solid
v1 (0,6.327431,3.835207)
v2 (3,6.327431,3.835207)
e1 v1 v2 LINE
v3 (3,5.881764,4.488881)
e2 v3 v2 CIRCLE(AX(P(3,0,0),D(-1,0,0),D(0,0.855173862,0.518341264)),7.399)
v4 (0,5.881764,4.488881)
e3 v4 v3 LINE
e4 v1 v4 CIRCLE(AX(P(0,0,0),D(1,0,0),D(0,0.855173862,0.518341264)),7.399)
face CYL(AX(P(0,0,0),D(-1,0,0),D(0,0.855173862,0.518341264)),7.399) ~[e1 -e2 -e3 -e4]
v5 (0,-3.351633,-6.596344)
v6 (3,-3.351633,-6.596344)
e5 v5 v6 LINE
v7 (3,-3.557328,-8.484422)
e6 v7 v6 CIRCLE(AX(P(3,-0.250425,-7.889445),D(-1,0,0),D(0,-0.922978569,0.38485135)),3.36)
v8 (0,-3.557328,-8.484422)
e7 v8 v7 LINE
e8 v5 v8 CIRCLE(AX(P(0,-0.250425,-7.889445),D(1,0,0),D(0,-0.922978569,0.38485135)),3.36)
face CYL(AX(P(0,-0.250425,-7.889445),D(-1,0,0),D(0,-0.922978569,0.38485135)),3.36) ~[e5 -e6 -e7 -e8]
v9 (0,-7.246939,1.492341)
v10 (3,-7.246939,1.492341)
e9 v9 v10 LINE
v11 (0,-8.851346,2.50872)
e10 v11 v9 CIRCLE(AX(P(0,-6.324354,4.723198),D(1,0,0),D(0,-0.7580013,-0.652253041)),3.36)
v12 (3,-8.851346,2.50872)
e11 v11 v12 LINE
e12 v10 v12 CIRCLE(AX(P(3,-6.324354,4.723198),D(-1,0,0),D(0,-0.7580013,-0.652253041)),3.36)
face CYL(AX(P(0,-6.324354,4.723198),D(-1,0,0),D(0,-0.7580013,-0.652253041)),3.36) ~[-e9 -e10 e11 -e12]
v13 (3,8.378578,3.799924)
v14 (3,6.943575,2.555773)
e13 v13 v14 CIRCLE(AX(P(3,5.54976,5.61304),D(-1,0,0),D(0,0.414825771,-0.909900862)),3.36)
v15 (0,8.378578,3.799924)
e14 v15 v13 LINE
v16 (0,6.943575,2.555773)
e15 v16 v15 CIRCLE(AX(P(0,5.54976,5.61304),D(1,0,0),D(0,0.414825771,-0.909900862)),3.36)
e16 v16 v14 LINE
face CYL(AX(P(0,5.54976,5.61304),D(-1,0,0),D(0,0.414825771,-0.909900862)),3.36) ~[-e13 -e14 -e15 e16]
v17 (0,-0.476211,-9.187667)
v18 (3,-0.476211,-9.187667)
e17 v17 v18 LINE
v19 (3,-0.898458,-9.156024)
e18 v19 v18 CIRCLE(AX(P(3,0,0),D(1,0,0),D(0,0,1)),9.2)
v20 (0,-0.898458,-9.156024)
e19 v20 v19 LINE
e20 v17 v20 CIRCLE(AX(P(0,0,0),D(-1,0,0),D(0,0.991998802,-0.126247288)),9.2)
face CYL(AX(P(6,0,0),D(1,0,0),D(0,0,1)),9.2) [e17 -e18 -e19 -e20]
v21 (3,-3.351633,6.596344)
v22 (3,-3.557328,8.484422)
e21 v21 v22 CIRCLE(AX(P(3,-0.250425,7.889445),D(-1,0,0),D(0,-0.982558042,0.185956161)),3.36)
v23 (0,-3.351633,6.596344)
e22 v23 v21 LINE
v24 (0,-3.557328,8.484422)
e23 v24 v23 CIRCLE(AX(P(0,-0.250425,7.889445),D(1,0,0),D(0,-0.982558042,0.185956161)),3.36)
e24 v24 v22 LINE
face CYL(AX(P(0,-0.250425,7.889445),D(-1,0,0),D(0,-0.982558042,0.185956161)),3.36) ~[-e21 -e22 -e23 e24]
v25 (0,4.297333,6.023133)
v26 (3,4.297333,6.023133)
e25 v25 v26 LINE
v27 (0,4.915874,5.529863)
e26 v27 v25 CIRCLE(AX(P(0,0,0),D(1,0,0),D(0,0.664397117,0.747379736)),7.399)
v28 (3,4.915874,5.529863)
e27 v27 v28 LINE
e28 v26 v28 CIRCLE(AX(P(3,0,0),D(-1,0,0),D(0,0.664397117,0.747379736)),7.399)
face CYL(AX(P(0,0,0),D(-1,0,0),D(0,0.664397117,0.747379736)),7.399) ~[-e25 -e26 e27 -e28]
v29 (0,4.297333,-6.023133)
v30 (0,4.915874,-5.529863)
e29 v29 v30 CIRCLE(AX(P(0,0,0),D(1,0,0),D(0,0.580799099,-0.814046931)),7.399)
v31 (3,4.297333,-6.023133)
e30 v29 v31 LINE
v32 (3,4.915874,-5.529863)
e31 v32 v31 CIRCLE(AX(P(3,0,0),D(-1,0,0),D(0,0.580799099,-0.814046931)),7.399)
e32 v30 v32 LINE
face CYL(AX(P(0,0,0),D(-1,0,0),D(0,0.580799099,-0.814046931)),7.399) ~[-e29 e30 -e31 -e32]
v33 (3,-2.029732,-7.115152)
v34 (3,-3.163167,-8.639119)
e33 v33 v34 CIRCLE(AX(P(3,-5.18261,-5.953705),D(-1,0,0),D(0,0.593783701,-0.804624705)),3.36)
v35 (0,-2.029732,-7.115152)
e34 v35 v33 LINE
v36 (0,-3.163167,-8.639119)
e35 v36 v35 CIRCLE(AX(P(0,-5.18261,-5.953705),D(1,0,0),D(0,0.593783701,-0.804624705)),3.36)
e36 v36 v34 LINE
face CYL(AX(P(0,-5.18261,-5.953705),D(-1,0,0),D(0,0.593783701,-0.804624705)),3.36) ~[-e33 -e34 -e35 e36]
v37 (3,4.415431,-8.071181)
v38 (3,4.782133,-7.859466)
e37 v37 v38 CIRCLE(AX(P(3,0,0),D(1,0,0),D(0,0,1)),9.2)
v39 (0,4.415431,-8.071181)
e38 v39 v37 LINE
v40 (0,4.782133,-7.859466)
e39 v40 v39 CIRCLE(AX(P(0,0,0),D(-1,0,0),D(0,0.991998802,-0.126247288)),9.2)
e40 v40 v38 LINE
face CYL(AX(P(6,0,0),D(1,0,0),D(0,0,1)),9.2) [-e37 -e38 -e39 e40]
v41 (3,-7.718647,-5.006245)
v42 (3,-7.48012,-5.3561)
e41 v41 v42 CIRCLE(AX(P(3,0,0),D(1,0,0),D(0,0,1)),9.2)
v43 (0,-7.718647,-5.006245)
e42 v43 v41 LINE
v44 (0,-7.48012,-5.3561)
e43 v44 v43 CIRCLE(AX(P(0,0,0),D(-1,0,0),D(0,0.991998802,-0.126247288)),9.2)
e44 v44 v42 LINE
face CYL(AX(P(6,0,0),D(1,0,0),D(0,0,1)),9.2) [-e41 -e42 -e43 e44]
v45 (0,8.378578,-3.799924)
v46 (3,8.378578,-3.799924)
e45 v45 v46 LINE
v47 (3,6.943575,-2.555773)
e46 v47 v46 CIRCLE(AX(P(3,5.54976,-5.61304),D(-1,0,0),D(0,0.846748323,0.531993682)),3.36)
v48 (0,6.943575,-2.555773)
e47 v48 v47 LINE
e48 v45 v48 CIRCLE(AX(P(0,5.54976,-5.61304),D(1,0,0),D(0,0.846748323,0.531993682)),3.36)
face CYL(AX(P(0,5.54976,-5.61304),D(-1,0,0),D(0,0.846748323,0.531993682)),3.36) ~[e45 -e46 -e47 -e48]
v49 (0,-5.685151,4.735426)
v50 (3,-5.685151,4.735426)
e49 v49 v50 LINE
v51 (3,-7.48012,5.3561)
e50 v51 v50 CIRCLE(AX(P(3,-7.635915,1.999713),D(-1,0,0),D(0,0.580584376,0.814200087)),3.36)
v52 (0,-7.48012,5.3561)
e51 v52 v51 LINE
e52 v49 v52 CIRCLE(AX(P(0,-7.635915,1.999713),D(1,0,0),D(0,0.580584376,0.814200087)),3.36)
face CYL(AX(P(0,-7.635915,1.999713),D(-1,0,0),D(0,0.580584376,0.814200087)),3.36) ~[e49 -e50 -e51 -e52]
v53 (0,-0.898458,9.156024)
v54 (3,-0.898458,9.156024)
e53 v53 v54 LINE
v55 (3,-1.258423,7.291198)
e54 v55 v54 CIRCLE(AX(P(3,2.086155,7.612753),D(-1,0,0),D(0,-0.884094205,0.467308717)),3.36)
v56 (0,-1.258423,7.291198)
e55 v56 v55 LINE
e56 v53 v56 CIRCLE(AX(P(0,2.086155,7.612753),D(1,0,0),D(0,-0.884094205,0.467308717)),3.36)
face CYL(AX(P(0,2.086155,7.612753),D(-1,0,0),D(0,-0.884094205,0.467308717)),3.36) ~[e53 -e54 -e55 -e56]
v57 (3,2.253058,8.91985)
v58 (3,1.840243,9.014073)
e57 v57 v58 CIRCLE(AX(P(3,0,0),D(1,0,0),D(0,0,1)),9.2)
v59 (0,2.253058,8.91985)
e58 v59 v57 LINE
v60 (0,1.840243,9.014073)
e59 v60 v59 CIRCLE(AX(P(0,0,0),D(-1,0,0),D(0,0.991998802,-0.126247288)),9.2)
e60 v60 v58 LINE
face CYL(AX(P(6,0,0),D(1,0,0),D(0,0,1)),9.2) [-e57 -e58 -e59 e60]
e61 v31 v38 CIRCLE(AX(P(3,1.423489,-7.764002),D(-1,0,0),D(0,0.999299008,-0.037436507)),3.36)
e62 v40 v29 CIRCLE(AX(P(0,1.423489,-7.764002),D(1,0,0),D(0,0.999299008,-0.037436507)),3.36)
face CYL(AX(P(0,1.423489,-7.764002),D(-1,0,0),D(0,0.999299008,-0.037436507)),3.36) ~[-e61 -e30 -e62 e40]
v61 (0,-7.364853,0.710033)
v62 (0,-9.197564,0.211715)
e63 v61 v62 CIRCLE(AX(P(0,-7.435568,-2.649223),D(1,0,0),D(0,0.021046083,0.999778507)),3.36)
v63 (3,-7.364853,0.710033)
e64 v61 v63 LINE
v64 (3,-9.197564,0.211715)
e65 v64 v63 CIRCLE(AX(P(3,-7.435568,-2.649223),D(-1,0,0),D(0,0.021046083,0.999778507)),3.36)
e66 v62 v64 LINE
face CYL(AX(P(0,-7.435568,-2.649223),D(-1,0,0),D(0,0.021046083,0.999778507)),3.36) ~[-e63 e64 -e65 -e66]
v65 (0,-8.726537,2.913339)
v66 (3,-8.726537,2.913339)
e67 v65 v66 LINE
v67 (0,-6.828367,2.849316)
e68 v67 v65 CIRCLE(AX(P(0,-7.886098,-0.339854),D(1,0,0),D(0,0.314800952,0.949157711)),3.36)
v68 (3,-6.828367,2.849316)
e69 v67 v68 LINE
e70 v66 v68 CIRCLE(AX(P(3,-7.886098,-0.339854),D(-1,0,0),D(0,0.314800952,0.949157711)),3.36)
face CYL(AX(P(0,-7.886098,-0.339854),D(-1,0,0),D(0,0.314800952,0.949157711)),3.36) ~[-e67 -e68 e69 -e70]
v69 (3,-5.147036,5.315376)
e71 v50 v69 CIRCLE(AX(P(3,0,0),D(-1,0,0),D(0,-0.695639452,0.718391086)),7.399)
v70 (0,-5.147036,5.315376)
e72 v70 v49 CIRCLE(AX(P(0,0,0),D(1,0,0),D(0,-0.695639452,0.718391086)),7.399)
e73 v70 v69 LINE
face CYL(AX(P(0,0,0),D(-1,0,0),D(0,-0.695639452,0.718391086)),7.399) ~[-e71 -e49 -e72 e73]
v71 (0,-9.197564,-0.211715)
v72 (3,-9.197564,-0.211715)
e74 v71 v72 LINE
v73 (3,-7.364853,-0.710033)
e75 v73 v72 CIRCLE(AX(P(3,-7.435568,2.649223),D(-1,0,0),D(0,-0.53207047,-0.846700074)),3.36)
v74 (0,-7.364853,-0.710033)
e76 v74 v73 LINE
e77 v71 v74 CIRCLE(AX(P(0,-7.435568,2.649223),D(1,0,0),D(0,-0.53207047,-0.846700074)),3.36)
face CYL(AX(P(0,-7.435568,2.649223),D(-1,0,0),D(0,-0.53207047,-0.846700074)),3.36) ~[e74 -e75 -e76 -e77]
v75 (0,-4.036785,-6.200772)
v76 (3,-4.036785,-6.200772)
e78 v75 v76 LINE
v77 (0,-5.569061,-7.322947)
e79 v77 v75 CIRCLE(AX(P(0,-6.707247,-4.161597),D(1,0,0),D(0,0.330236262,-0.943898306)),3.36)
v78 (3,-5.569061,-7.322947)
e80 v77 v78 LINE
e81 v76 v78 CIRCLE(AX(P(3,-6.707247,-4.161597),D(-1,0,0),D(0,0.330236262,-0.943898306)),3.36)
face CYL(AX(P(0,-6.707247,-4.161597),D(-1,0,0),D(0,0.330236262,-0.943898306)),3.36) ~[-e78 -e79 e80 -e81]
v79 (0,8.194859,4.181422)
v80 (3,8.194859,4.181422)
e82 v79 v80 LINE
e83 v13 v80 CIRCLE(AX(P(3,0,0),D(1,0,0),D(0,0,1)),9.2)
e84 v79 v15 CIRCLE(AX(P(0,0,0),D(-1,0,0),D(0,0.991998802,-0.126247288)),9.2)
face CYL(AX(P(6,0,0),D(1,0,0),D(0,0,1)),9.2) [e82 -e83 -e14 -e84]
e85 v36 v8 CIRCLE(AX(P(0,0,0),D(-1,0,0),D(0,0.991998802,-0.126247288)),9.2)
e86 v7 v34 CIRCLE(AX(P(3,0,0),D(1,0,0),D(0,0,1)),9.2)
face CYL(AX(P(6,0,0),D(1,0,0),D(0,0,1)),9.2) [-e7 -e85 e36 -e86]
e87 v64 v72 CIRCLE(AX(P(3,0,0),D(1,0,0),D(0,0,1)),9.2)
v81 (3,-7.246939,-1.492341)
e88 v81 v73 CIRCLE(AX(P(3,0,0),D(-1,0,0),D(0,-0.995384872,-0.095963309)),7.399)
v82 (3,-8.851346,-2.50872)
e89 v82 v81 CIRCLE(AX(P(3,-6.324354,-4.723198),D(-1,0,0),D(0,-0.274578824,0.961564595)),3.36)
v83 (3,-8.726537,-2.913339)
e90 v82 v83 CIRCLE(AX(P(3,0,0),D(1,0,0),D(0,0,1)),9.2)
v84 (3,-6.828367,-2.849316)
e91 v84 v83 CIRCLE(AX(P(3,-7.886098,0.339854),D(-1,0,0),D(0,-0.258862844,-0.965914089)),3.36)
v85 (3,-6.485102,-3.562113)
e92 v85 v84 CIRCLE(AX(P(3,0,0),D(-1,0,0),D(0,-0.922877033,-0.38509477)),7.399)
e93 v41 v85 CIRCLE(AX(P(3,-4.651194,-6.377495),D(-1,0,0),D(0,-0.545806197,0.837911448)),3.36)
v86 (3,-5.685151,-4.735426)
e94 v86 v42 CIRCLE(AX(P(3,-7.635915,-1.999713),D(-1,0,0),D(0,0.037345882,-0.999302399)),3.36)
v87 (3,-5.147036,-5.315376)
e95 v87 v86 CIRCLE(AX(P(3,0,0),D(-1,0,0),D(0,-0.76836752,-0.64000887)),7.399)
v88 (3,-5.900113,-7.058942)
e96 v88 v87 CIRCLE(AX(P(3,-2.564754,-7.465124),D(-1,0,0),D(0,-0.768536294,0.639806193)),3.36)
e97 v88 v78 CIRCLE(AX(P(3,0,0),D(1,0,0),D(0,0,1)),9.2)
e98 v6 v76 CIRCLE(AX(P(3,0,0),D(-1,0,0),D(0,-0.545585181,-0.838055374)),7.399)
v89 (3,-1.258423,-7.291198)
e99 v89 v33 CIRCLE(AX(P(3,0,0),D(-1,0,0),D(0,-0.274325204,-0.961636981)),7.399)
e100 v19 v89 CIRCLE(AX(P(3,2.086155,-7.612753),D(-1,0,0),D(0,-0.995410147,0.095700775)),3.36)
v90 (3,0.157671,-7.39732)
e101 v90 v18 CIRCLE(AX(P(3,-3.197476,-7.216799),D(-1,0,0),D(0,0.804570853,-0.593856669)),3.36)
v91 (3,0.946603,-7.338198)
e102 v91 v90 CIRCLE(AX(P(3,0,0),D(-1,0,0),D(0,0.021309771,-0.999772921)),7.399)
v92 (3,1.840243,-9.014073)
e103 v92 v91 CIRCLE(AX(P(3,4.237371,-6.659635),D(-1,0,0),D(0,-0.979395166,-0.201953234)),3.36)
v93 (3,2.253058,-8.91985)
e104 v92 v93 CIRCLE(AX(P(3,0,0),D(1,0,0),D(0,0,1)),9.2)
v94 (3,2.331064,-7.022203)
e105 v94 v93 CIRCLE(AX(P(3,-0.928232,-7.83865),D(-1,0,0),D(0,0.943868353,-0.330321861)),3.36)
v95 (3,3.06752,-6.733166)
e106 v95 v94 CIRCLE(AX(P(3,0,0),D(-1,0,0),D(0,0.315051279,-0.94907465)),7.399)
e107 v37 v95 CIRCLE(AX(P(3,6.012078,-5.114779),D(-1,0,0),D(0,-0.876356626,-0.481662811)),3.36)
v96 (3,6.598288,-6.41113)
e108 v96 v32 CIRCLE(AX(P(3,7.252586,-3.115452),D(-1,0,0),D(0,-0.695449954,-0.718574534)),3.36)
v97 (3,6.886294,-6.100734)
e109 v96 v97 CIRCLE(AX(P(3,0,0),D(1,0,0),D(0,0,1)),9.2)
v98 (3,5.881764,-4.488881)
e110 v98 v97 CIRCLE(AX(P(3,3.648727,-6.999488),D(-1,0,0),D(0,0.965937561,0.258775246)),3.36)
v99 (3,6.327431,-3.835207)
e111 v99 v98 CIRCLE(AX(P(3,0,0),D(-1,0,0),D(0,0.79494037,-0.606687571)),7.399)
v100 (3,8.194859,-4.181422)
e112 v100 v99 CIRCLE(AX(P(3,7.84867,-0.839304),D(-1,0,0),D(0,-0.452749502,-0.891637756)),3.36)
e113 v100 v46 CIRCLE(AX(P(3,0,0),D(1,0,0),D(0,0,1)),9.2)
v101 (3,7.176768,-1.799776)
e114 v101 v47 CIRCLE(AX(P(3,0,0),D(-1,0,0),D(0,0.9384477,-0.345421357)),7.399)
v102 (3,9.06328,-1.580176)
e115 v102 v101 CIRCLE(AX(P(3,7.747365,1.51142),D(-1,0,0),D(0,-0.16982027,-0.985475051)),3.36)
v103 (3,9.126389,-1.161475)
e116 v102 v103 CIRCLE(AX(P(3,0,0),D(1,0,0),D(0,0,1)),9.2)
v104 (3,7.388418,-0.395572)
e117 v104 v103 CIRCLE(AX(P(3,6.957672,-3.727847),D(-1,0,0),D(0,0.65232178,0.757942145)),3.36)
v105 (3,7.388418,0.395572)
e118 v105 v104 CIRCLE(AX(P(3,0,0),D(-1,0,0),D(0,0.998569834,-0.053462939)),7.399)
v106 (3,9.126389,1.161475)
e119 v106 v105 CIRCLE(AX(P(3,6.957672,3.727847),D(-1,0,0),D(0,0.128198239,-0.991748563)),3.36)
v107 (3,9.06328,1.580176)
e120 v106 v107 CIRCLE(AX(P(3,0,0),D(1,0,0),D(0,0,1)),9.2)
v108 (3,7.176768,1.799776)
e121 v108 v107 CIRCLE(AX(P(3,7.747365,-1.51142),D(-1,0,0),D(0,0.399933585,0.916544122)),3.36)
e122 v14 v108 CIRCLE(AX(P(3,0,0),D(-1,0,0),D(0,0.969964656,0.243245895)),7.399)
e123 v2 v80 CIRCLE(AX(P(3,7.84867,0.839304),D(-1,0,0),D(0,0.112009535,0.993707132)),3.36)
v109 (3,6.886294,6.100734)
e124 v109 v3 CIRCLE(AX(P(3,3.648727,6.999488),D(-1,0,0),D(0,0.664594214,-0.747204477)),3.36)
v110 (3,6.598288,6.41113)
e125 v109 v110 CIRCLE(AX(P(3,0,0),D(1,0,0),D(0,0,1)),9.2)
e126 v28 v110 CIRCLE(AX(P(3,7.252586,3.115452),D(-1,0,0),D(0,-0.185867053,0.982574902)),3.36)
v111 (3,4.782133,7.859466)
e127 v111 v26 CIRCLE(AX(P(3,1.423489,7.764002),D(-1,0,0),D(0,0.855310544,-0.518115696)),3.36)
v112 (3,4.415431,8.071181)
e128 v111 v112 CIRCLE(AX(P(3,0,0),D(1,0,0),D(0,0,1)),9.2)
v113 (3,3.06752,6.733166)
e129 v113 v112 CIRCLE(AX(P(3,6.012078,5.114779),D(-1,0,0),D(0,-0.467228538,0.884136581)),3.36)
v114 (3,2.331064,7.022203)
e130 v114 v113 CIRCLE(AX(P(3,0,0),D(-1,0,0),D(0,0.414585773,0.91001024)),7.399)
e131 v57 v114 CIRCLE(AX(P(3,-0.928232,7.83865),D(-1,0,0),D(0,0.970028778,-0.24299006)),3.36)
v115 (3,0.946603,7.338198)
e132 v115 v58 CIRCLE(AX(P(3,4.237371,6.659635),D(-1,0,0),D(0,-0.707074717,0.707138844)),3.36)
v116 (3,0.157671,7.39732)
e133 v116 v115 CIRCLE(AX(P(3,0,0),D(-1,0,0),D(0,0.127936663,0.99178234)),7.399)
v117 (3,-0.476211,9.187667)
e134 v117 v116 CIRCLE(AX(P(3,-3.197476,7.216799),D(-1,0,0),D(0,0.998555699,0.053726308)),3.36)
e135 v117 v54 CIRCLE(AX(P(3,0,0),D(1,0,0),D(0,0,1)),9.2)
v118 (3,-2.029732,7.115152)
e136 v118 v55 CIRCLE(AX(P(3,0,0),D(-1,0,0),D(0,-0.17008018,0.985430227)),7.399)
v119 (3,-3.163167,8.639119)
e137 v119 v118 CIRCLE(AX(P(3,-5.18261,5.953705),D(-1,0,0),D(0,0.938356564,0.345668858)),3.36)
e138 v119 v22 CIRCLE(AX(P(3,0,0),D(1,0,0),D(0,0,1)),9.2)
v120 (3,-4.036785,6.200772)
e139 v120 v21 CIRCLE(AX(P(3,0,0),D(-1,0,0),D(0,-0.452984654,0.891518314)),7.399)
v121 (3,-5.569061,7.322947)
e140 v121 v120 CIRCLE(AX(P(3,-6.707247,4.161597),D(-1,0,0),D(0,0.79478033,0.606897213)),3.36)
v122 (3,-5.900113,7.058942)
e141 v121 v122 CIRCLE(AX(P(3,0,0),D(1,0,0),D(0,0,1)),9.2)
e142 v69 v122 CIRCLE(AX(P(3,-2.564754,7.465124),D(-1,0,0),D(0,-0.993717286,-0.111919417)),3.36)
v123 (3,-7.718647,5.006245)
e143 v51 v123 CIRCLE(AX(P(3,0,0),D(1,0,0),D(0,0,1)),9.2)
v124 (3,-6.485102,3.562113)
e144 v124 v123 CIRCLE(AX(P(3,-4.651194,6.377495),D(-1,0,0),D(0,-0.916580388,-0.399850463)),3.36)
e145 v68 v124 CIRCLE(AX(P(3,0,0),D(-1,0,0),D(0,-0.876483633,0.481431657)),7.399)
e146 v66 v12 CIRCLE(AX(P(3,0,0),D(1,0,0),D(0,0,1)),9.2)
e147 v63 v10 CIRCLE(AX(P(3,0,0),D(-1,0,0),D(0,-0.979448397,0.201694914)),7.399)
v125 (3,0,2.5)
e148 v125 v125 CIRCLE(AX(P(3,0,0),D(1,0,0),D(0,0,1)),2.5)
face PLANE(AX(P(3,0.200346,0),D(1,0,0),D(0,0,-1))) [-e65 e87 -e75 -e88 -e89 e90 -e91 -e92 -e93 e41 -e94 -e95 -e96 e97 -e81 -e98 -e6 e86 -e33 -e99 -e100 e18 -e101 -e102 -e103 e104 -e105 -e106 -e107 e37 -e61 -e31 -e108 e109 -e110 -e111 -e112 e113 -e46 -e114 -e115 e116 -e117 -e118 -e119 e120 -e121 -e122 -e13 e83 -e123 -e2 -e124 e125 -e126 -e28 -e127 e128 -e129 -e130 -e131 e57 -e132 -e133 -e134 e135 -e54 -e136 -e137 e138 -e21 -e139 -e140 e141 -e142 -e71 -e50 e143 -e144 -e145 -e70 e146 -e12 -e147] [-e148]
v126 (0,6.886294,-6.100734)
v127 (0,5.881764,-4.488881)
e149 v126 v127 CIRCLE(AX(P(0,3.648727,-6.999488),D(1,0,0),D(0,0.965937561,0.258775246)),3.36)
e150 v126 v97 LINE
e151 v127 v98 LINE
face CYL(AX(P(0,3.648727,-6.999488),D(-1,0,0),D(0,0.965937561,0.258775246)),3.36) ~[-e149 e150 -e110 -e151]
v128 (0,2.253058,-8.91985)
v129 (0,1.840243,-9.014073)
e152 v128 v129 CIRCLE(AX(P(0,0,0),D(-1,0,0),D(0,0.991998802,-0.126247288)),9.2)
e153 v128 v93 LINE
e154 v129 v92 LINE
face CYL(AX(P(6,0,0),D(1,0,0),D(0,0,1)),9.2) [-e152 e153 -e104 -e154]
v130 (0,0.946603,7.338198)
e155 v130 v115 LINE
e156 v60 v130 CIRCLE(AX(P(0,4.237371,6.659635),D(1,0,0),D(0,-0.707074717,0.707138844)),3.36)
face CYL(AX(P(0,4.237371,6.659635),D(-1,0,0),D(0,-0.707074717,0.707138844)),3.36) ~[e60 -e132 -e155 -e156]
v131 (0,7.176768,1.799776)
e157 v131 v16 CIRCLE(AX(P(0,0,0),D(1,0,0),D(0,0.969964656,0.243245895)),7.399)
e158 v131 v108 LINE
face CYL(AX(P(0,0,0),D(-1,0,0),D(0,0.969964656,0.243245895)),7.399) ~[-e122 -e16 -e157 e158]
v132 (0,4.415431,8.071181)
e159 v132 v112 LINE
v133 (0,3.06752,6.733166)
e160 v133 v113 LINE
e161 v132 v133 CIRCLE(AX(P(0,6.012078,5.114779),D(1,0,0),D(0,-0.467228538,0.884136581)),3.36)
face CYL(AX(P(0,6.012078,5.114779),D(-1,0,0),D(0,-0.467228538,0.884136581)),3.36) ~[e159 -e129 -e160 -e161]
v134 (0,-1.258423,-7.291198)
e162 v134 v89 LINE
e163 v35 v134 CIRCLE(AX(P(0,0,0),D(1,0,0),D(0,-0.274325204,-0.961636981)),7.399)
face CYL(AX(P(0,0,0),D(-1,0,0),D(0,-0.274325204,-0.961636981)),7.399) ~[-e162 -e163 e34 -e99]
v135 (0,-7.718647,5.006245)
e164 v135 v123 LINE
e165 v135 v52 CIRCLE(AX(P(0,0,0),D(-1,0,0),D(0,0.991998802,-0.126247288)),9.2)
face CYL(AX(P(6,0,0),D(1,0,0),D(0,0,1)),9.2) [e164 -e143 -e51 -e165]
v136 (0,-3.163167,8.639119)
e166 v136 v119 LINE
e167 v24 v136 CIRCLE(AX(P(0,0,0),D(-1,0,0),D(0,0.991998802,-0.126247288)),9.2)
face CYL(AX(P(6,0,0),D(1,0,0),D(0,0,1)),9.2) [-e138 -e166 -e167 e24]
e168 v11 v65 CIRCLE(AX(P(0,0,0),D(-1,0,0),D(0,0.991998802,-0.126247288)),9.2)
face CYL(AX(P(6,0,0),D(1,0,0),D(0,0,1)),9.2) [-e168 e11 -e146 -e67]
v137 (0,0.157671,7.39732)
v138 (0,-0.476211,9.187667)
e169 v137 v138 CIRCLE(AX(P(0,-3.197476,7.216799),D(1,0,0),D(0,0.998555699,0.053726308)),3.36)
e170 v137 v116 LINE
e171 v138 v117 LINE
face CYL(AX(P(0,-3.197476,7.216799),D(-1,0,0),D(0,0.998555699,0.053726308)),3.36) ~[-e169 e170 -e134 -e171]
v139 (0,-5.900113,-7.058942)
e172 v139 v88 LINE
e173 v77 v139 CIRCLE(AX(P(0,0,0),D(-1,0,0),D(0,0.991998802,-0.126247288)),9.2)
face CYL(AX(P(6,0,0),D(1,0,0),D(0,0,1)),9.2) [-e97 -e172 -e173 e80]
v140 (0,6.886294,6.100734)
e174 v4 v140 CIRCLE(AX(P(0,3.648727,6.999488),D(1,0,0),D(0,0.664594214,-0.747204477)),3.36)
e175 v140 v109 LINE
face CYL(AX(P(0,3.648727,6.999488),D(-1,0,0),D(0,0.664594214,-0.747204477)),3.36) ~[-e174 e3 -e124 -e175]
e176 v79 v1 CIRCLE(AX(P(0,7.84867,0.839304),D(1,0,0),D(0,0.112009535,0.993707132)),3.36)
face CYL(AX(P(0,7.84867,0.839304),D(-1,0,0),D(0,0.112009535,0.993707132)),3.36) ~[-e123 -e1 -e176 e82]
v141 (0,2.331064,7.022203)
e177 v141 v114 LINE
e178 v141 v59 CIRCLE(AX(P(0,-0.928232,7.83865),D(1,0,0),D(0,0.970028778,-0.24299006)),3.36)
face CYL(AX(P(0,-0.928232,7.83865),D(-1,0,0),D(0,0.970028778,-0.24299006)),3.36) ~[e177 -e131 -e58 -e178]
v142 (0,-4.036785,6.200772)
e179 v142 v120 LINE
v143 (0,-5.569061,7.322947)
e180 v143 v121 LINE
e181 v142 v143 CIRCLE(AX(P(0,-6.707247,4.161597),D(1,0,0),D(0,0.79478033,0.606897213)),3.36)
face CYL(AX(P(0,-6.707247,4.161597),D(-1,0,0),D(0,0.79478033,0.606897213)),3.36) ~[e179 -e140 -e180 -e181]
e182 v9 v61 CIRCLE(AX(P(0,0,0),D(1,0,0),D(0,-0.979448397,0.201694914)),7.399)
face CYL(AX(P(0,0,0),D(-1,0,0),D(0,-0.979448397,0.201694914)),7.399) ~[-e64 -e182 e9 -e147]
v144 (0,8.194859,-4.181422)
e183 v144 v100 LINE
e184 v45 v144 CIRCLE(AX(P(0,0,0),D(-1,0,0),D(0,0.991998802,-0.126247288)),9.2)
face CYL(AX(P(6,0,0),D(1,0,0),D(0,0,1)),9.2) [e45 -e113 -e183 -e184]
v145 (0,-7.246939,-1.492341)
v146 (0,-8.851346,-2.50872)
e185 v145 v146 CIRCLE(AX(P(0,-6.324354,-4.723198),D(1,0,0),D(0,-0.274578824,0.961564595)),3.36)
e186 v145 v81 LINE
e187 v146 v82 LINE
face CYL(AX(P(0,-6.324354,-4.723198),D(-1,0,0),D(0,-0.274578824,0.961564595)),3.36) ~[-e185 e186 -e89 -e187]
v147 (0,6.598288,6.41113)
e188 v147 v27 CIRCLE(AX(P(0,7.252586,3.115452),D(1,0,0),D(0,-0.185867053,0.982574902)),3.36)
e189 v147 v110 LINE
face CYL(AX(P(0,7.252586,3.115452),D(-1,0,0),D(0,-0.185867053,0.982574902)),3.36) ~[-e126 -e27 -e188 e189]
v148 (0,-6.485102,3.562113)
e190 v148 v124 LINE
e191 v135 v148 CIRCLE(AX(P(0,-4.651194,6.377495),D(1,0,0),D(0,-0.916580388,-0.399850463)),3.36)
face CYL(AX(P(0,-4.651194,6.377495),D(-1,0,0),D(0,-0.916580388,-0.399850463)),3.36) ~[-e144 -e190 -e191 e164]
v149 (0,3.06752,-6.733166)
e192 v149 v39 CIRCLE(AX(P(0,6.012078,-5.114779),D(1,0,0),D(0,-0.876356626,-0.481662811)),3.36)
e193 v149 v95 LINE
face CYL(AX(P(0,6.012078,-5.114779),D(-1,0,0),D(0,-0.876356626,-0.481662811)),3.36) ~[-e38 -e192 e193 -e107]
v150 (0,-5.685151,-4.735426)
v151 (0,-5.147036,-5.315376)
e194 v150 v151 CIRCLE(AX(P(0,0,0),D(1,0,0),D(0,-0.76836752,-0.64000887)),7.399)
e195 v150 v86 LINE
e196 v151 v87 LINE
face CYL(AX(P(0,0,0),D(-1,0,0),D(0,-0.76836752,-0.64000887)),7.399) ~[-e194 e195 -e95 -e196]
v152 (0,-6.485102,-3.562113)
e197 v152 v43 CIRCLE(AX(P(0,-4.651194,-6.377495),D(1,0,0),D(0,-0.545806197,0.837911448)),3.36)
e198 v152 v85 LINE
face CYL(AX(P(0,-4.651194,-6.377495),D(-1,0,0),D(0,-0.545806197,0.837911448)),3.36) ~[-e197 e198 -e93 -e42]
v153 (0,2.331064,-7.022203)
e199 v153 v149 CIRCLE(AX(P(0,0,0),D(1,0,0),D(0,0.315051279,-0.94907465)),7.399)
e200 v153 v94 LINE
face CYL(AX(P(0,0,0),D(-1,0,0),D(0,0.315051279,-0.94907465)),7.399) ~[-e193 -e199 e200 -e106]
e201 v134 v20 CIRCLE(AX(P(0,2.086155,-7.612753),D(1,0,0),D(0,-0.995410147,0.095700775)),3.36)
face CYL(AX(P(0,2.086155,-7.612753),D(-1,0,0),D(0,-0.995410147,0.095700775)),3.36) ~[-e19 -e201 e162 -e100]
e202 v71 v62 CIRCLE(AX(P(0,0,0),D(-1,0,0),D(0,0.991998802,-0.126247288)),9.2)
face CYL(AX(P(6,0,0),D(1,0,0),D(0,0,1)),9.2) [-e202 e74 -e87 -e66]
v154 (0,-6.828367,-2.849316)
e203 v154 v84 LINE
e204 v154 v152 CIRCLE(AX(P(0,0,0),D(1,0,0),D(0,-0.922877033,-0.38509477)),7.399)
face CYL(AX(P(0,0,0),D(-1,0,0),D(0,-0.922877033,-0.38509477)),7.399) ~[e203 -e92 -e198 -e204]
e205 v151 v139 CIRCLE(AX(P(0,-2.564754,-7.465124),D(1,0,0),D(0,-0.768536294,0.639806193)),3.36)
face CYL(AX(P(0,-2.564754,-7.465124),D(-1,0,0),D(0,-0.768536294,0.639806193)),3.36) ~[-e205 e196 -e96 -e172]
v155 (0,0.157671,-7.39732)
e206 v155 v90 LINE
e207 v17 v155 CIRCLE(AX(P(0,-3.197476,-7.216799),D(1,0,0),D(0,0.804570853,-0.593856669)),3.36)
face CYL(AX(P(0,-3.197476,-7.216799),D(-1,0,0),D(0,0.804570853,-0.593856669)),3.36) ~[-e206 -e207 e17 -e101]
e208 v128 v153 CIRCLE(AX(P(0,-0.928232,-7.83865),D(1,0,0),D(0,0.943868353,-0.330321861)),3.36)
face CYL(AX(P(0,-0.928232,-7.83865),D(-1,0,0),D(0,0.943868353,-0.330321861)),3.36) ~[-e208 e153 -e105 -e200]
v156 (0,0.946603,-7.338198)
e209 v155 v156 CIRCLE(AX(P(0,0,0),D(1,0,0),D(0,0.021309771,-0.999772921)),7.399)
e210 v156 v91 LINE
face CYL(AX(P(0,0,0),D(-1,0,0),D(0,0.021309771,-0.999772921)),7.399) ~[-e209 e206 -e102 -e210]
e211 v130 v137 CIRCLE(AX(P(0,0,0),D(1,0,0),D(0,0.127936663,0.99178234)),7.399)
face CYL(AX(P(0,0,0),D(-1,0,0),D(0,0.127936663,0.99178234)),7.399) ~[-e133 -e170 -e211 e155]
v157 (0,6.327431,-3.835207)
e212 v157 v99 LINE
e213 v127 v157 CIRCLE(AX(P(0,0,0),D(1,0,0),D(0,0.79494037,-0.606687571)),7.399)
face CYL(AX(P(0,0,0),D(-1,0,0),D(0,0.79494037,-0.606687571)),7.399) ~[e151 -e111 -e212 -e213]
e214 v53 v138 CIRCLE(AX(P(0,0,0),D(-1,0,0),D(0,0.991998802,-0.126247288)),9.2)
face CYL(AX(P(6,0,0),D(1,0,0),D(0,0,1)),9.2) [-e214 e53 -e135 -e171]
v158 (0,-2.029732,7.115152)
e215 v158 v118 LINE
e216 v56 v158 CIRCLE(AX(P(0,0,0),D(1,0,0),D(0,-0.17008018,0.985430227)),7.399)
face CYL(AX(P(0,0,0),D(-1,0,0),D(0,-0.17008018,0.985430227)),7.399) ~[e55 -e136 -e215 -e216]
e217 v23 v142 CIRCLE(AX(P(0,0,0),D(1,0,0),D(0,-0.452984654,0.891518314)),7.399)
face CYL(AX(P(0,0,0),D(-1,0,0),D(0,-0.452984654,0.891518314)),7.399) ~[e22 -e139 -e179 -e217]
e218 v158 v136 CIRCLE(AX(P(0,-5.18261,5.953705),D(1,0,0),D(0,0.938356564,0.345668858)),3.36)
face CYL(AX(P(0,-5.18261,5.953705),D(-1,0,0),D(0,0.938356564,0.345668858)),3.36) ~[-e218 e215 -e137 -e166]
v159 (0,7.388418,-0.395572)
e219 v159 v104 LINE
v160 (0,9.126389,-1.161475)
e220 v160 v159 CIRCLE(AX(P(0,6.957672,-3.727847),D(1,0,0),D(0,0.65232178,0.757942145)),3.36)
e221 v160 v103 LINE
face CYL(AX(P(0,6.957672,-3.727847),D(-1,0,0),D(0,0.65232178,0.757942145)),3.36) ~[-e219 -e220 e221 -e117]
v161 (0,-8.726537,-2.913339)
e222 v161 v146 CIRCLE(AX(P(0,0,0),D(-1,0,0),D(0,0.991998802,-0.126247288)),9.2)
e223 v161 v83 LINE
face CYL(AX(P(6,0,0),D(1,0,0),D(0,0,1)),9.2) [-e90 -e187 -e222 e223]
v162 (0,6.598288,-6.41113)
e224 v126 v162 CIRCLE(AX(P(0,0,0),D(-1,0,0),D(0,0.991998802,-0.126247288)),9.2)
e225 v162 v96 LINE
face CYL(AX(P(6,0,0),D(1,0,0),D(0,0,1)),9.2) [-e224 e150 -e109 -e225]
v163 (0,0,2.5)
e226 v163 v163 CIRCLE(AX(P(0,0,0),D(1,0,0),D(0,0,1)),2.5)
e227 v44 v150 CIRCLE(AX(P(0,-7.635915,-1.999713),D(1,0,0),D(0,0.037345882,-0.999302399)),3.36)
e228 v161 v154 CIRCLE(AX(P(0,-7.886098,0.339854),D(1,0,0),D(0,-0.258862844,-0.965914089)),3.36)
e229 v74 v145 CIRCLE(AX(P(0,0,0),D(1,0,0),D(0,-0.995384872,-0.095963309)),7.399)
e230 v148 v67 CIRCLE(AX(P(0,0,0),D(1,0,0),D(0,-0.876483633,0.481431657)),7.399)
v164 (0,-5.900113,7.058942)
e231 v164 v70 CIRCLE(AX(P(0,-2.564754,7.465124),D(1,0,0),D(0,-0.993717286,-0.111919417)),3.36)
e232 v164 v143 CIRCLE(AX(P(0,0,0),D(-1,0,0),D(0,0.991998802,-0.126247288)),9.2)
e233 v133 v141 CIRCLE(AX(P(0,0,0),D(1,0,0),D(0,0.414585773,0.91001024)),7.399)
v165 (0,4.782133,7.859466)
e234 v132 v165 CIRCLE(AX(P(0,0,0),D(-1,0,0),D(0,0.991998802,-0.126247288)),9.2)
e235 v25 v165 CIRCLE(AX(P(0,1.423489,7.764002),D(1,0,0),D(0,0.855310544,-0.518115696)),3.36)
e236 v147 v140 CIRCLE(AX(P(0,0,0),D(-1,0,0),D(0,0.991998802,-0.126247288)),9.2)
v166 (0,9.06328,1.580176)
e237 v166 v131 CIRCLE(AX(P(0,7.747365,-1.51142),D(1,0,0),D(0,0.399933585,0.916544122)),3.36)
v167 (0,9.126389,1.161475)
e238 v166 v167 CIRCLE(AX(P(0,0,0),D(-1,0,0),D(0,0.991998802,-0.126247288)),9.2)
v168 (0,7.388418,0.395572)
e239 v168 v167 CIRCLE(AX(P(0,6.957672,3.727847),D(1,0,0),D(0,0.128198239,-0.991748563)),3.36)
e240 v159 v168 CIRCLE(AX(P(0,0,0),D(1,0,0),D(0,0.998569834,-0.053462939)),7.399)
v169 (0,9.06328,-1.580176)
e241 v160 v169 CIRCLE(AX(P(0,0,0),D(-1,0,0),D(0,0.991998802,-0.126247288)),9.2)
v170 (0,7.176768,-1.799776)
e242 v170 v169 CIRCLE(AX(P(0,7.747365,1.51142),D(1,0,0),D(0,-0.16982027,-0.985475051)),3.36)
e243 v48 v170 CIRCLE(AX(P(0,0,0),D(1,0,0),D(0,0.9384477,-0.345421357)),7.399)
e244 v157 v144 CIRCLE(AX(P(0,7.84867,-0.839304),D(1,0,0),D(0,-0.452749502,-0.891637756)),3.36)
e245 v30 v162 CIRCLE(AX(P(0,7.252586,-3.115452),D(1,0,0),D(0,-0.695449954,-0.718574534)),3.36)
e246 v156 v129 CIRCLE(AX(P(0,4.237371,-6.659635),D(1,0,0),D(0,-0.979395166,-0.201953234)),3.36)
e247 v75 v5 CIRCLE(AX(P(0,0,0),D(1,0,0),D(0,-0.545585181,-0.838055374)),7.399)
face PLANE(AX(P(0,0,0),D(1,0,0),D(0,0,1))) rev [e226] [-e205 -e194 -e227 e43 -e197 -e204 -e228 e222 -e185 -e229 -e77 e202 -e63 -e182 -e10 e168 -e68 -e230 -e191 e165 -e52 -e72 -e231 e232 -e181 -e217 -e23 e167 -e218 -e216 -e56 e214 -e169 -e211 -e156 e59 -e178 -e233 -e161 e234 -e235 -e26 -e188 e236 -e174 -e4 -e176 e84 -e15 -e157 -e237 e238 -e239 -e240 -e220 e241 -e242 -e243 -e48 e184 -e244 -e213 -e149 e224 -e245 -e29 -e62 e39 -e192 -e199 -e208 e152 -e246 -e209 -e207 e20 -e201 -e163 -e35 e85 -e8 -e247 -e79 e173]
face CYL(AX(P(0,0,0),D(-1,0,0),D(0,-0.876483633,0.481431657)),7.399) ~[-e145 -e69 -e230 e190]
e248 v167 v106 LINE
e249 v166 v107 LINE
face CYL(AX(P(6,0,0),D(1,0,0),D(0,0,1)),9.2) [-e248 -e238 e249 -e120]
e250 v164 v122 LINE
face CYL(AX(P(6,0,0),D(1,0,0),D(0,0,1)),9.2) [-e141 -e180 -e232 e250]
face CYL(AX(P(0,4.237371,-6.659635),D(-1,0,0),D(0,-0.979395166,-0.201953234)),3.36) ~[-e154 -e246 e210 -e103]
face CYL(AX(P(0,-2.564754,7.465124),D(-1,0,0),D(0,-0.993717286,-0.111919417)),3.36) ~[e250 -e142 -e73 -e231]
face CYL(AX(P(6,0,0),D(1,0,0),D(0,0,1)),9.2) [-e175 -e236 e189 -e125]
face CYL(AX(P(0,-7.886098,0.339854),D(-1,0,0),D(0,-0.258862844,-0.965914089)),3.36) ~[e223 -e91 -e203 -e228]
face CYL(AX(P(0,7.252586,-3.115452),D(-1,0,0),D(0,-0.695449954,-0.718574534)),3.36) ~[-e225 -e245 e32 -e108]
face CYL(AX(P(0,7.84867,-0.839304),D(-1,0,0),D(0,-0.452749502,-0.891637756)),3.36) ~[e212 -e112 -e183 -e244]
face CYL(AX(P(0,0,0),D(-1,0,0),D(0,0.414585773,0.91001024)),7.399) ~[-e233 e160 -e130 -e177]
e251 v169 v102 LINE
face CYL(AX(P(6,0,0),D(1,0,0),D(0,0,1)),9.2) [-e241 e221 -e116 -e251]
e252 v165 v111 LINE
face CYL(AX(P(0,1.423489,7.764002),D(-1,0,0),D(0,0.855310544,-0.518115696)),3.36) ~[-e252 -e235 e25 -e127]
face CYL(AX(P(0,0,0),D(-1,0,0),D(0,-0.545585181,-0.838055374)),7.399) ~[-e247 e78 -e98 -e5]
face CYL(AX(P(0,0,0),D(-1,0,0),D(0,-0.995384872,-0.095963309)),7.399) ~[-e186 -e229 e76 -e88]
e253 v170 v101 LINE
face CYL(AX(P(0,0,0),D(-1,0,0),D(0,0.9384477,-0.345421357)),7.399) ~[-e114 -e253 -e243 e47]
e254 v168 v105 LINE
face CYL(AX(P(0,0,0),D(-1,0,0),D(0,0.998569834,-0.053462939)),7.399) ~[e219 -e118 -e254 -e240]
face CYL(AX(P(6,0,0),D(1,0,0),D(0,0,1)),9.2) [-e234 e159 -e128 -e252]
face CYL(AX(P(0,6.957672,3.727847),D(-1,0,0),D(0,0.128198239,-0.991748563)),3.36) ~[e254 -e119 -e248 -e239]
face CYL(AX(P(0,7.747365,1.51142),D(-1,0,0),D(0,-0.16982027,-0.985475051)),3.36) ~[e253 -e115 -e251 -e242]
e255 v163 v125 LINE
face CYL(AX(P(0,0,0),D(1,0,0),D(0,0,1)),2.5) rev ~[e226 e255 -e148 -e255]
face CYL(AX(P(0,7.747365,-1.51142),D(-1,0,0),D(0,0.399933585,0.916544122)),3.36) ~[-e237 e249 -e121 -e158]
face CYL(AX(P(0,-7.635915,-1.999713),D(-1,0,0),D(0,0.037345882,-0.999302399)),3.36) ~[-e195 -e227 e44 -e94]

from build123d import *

# Parameters (mm, degrees)
BASPROSKE_W           = 12
BASPROSKE_H           = 9.2
TOOTHCUT_DEPTH        = 18.699717512
TEETHCUTS_COUNT       = 21
TEETHCUTS_ANGLE       = 342.857142857
BORSKE_R              = 2.5
BORE_DEPTH            = 50.0000508
CROQUIS1_W            = 19.77250494
CROQUIS1_H            = 19.920724617
CORTAR_EXTRUIR1_DEPTH = 9


with BuildPart() as part:
    # BasProSke → Base-Revolve (revolve)
    with BuildSketch(Plane(origin=(0, 0, 0), x_dir=(1, 0, 0), z_dir=(0, 1, 0)), mode=Mode.PRIVATE) as base_revolve_sk:
        with Locations((6, 4.6)):
            Rectangle(BASPROSKE_W, BASPROSKE_H)
    revolve(base_revolve_sk.sketch.rotate(Axis((-10, 0, 0), (1, 0, 0)), 180), axis=Axis((-10, 0, 0), (1, 0, 0)))

    # TooCutSke → ToothCut (cut, through all)
    with BuildSketch(Plane(origin=(0, 0, 0), x_dir=(0, 0, -1), z_dir=(1, 0, 0))):
        with BuildLine():
            ThreePointArc((0.39557227, 7.388418205), (0, 7.399), (-0.39557227, 7.388418205))
            ThreePointArc((-0.39557227, 7.388418205), (-0.659317872, 8.326513344), (-1.181161837, 9.149473311))
            ThreePointArc((-1.181161837, 9.149473311), (0, 9.2254), (1.181161837, 9.149473311))
            ThreePointArc((1.181161837, 9.149473311), (0.659317872, 8.326513344), (0.39557227, 7.388418205))
        make_face()
    toothcut = extrude(amount=TOOTHCUT_DEPTH, mode=Mode.SUBTRACT)

    # TeethCuts: ToothCut ×21 about axis
    teethcuts_axis = Axis((-10, 0, 0), (1, 0, 0))
    for i in range(1, TEETHCUTS_COUNT):
        add(toothcut.rotate(teethcuts_axis, i * TEETHCUTS_ANGLE / (TEETHCUTS_COUNT - 1)), mode=Mode.SUBTRACT)

    # BorSke → Bore (cut, symmetric)
    with BuildSketch(Plane(origin=(0, 0, 0), x_dir=(0, 0, -1), z_dir=(1, 0, 0))):
        with Locations(Location((0, 0, 0), (0, 0, 180))):
            Circle(BORSKE_R)
    extrude(amount=BORE_DEPTH, both=True, mode=Mode.SUBTRACT)

    # Croquis1 → Cortar-Extruir1 (cut)
    with BuildSketch(Plane(origin=(12, 0, 0), x_dir=(0, 0, -1), z_dir=(1, 0, 0))):
        with Locations((0, 0.200345971)):
            Rectangle(CROQUIS1_W, CROQUIS1_H)
    extrude(amount=-CORTAR_EXTRUIR1_DEPTH, mode=Mode.SUBTRACT)


solid = part.part
